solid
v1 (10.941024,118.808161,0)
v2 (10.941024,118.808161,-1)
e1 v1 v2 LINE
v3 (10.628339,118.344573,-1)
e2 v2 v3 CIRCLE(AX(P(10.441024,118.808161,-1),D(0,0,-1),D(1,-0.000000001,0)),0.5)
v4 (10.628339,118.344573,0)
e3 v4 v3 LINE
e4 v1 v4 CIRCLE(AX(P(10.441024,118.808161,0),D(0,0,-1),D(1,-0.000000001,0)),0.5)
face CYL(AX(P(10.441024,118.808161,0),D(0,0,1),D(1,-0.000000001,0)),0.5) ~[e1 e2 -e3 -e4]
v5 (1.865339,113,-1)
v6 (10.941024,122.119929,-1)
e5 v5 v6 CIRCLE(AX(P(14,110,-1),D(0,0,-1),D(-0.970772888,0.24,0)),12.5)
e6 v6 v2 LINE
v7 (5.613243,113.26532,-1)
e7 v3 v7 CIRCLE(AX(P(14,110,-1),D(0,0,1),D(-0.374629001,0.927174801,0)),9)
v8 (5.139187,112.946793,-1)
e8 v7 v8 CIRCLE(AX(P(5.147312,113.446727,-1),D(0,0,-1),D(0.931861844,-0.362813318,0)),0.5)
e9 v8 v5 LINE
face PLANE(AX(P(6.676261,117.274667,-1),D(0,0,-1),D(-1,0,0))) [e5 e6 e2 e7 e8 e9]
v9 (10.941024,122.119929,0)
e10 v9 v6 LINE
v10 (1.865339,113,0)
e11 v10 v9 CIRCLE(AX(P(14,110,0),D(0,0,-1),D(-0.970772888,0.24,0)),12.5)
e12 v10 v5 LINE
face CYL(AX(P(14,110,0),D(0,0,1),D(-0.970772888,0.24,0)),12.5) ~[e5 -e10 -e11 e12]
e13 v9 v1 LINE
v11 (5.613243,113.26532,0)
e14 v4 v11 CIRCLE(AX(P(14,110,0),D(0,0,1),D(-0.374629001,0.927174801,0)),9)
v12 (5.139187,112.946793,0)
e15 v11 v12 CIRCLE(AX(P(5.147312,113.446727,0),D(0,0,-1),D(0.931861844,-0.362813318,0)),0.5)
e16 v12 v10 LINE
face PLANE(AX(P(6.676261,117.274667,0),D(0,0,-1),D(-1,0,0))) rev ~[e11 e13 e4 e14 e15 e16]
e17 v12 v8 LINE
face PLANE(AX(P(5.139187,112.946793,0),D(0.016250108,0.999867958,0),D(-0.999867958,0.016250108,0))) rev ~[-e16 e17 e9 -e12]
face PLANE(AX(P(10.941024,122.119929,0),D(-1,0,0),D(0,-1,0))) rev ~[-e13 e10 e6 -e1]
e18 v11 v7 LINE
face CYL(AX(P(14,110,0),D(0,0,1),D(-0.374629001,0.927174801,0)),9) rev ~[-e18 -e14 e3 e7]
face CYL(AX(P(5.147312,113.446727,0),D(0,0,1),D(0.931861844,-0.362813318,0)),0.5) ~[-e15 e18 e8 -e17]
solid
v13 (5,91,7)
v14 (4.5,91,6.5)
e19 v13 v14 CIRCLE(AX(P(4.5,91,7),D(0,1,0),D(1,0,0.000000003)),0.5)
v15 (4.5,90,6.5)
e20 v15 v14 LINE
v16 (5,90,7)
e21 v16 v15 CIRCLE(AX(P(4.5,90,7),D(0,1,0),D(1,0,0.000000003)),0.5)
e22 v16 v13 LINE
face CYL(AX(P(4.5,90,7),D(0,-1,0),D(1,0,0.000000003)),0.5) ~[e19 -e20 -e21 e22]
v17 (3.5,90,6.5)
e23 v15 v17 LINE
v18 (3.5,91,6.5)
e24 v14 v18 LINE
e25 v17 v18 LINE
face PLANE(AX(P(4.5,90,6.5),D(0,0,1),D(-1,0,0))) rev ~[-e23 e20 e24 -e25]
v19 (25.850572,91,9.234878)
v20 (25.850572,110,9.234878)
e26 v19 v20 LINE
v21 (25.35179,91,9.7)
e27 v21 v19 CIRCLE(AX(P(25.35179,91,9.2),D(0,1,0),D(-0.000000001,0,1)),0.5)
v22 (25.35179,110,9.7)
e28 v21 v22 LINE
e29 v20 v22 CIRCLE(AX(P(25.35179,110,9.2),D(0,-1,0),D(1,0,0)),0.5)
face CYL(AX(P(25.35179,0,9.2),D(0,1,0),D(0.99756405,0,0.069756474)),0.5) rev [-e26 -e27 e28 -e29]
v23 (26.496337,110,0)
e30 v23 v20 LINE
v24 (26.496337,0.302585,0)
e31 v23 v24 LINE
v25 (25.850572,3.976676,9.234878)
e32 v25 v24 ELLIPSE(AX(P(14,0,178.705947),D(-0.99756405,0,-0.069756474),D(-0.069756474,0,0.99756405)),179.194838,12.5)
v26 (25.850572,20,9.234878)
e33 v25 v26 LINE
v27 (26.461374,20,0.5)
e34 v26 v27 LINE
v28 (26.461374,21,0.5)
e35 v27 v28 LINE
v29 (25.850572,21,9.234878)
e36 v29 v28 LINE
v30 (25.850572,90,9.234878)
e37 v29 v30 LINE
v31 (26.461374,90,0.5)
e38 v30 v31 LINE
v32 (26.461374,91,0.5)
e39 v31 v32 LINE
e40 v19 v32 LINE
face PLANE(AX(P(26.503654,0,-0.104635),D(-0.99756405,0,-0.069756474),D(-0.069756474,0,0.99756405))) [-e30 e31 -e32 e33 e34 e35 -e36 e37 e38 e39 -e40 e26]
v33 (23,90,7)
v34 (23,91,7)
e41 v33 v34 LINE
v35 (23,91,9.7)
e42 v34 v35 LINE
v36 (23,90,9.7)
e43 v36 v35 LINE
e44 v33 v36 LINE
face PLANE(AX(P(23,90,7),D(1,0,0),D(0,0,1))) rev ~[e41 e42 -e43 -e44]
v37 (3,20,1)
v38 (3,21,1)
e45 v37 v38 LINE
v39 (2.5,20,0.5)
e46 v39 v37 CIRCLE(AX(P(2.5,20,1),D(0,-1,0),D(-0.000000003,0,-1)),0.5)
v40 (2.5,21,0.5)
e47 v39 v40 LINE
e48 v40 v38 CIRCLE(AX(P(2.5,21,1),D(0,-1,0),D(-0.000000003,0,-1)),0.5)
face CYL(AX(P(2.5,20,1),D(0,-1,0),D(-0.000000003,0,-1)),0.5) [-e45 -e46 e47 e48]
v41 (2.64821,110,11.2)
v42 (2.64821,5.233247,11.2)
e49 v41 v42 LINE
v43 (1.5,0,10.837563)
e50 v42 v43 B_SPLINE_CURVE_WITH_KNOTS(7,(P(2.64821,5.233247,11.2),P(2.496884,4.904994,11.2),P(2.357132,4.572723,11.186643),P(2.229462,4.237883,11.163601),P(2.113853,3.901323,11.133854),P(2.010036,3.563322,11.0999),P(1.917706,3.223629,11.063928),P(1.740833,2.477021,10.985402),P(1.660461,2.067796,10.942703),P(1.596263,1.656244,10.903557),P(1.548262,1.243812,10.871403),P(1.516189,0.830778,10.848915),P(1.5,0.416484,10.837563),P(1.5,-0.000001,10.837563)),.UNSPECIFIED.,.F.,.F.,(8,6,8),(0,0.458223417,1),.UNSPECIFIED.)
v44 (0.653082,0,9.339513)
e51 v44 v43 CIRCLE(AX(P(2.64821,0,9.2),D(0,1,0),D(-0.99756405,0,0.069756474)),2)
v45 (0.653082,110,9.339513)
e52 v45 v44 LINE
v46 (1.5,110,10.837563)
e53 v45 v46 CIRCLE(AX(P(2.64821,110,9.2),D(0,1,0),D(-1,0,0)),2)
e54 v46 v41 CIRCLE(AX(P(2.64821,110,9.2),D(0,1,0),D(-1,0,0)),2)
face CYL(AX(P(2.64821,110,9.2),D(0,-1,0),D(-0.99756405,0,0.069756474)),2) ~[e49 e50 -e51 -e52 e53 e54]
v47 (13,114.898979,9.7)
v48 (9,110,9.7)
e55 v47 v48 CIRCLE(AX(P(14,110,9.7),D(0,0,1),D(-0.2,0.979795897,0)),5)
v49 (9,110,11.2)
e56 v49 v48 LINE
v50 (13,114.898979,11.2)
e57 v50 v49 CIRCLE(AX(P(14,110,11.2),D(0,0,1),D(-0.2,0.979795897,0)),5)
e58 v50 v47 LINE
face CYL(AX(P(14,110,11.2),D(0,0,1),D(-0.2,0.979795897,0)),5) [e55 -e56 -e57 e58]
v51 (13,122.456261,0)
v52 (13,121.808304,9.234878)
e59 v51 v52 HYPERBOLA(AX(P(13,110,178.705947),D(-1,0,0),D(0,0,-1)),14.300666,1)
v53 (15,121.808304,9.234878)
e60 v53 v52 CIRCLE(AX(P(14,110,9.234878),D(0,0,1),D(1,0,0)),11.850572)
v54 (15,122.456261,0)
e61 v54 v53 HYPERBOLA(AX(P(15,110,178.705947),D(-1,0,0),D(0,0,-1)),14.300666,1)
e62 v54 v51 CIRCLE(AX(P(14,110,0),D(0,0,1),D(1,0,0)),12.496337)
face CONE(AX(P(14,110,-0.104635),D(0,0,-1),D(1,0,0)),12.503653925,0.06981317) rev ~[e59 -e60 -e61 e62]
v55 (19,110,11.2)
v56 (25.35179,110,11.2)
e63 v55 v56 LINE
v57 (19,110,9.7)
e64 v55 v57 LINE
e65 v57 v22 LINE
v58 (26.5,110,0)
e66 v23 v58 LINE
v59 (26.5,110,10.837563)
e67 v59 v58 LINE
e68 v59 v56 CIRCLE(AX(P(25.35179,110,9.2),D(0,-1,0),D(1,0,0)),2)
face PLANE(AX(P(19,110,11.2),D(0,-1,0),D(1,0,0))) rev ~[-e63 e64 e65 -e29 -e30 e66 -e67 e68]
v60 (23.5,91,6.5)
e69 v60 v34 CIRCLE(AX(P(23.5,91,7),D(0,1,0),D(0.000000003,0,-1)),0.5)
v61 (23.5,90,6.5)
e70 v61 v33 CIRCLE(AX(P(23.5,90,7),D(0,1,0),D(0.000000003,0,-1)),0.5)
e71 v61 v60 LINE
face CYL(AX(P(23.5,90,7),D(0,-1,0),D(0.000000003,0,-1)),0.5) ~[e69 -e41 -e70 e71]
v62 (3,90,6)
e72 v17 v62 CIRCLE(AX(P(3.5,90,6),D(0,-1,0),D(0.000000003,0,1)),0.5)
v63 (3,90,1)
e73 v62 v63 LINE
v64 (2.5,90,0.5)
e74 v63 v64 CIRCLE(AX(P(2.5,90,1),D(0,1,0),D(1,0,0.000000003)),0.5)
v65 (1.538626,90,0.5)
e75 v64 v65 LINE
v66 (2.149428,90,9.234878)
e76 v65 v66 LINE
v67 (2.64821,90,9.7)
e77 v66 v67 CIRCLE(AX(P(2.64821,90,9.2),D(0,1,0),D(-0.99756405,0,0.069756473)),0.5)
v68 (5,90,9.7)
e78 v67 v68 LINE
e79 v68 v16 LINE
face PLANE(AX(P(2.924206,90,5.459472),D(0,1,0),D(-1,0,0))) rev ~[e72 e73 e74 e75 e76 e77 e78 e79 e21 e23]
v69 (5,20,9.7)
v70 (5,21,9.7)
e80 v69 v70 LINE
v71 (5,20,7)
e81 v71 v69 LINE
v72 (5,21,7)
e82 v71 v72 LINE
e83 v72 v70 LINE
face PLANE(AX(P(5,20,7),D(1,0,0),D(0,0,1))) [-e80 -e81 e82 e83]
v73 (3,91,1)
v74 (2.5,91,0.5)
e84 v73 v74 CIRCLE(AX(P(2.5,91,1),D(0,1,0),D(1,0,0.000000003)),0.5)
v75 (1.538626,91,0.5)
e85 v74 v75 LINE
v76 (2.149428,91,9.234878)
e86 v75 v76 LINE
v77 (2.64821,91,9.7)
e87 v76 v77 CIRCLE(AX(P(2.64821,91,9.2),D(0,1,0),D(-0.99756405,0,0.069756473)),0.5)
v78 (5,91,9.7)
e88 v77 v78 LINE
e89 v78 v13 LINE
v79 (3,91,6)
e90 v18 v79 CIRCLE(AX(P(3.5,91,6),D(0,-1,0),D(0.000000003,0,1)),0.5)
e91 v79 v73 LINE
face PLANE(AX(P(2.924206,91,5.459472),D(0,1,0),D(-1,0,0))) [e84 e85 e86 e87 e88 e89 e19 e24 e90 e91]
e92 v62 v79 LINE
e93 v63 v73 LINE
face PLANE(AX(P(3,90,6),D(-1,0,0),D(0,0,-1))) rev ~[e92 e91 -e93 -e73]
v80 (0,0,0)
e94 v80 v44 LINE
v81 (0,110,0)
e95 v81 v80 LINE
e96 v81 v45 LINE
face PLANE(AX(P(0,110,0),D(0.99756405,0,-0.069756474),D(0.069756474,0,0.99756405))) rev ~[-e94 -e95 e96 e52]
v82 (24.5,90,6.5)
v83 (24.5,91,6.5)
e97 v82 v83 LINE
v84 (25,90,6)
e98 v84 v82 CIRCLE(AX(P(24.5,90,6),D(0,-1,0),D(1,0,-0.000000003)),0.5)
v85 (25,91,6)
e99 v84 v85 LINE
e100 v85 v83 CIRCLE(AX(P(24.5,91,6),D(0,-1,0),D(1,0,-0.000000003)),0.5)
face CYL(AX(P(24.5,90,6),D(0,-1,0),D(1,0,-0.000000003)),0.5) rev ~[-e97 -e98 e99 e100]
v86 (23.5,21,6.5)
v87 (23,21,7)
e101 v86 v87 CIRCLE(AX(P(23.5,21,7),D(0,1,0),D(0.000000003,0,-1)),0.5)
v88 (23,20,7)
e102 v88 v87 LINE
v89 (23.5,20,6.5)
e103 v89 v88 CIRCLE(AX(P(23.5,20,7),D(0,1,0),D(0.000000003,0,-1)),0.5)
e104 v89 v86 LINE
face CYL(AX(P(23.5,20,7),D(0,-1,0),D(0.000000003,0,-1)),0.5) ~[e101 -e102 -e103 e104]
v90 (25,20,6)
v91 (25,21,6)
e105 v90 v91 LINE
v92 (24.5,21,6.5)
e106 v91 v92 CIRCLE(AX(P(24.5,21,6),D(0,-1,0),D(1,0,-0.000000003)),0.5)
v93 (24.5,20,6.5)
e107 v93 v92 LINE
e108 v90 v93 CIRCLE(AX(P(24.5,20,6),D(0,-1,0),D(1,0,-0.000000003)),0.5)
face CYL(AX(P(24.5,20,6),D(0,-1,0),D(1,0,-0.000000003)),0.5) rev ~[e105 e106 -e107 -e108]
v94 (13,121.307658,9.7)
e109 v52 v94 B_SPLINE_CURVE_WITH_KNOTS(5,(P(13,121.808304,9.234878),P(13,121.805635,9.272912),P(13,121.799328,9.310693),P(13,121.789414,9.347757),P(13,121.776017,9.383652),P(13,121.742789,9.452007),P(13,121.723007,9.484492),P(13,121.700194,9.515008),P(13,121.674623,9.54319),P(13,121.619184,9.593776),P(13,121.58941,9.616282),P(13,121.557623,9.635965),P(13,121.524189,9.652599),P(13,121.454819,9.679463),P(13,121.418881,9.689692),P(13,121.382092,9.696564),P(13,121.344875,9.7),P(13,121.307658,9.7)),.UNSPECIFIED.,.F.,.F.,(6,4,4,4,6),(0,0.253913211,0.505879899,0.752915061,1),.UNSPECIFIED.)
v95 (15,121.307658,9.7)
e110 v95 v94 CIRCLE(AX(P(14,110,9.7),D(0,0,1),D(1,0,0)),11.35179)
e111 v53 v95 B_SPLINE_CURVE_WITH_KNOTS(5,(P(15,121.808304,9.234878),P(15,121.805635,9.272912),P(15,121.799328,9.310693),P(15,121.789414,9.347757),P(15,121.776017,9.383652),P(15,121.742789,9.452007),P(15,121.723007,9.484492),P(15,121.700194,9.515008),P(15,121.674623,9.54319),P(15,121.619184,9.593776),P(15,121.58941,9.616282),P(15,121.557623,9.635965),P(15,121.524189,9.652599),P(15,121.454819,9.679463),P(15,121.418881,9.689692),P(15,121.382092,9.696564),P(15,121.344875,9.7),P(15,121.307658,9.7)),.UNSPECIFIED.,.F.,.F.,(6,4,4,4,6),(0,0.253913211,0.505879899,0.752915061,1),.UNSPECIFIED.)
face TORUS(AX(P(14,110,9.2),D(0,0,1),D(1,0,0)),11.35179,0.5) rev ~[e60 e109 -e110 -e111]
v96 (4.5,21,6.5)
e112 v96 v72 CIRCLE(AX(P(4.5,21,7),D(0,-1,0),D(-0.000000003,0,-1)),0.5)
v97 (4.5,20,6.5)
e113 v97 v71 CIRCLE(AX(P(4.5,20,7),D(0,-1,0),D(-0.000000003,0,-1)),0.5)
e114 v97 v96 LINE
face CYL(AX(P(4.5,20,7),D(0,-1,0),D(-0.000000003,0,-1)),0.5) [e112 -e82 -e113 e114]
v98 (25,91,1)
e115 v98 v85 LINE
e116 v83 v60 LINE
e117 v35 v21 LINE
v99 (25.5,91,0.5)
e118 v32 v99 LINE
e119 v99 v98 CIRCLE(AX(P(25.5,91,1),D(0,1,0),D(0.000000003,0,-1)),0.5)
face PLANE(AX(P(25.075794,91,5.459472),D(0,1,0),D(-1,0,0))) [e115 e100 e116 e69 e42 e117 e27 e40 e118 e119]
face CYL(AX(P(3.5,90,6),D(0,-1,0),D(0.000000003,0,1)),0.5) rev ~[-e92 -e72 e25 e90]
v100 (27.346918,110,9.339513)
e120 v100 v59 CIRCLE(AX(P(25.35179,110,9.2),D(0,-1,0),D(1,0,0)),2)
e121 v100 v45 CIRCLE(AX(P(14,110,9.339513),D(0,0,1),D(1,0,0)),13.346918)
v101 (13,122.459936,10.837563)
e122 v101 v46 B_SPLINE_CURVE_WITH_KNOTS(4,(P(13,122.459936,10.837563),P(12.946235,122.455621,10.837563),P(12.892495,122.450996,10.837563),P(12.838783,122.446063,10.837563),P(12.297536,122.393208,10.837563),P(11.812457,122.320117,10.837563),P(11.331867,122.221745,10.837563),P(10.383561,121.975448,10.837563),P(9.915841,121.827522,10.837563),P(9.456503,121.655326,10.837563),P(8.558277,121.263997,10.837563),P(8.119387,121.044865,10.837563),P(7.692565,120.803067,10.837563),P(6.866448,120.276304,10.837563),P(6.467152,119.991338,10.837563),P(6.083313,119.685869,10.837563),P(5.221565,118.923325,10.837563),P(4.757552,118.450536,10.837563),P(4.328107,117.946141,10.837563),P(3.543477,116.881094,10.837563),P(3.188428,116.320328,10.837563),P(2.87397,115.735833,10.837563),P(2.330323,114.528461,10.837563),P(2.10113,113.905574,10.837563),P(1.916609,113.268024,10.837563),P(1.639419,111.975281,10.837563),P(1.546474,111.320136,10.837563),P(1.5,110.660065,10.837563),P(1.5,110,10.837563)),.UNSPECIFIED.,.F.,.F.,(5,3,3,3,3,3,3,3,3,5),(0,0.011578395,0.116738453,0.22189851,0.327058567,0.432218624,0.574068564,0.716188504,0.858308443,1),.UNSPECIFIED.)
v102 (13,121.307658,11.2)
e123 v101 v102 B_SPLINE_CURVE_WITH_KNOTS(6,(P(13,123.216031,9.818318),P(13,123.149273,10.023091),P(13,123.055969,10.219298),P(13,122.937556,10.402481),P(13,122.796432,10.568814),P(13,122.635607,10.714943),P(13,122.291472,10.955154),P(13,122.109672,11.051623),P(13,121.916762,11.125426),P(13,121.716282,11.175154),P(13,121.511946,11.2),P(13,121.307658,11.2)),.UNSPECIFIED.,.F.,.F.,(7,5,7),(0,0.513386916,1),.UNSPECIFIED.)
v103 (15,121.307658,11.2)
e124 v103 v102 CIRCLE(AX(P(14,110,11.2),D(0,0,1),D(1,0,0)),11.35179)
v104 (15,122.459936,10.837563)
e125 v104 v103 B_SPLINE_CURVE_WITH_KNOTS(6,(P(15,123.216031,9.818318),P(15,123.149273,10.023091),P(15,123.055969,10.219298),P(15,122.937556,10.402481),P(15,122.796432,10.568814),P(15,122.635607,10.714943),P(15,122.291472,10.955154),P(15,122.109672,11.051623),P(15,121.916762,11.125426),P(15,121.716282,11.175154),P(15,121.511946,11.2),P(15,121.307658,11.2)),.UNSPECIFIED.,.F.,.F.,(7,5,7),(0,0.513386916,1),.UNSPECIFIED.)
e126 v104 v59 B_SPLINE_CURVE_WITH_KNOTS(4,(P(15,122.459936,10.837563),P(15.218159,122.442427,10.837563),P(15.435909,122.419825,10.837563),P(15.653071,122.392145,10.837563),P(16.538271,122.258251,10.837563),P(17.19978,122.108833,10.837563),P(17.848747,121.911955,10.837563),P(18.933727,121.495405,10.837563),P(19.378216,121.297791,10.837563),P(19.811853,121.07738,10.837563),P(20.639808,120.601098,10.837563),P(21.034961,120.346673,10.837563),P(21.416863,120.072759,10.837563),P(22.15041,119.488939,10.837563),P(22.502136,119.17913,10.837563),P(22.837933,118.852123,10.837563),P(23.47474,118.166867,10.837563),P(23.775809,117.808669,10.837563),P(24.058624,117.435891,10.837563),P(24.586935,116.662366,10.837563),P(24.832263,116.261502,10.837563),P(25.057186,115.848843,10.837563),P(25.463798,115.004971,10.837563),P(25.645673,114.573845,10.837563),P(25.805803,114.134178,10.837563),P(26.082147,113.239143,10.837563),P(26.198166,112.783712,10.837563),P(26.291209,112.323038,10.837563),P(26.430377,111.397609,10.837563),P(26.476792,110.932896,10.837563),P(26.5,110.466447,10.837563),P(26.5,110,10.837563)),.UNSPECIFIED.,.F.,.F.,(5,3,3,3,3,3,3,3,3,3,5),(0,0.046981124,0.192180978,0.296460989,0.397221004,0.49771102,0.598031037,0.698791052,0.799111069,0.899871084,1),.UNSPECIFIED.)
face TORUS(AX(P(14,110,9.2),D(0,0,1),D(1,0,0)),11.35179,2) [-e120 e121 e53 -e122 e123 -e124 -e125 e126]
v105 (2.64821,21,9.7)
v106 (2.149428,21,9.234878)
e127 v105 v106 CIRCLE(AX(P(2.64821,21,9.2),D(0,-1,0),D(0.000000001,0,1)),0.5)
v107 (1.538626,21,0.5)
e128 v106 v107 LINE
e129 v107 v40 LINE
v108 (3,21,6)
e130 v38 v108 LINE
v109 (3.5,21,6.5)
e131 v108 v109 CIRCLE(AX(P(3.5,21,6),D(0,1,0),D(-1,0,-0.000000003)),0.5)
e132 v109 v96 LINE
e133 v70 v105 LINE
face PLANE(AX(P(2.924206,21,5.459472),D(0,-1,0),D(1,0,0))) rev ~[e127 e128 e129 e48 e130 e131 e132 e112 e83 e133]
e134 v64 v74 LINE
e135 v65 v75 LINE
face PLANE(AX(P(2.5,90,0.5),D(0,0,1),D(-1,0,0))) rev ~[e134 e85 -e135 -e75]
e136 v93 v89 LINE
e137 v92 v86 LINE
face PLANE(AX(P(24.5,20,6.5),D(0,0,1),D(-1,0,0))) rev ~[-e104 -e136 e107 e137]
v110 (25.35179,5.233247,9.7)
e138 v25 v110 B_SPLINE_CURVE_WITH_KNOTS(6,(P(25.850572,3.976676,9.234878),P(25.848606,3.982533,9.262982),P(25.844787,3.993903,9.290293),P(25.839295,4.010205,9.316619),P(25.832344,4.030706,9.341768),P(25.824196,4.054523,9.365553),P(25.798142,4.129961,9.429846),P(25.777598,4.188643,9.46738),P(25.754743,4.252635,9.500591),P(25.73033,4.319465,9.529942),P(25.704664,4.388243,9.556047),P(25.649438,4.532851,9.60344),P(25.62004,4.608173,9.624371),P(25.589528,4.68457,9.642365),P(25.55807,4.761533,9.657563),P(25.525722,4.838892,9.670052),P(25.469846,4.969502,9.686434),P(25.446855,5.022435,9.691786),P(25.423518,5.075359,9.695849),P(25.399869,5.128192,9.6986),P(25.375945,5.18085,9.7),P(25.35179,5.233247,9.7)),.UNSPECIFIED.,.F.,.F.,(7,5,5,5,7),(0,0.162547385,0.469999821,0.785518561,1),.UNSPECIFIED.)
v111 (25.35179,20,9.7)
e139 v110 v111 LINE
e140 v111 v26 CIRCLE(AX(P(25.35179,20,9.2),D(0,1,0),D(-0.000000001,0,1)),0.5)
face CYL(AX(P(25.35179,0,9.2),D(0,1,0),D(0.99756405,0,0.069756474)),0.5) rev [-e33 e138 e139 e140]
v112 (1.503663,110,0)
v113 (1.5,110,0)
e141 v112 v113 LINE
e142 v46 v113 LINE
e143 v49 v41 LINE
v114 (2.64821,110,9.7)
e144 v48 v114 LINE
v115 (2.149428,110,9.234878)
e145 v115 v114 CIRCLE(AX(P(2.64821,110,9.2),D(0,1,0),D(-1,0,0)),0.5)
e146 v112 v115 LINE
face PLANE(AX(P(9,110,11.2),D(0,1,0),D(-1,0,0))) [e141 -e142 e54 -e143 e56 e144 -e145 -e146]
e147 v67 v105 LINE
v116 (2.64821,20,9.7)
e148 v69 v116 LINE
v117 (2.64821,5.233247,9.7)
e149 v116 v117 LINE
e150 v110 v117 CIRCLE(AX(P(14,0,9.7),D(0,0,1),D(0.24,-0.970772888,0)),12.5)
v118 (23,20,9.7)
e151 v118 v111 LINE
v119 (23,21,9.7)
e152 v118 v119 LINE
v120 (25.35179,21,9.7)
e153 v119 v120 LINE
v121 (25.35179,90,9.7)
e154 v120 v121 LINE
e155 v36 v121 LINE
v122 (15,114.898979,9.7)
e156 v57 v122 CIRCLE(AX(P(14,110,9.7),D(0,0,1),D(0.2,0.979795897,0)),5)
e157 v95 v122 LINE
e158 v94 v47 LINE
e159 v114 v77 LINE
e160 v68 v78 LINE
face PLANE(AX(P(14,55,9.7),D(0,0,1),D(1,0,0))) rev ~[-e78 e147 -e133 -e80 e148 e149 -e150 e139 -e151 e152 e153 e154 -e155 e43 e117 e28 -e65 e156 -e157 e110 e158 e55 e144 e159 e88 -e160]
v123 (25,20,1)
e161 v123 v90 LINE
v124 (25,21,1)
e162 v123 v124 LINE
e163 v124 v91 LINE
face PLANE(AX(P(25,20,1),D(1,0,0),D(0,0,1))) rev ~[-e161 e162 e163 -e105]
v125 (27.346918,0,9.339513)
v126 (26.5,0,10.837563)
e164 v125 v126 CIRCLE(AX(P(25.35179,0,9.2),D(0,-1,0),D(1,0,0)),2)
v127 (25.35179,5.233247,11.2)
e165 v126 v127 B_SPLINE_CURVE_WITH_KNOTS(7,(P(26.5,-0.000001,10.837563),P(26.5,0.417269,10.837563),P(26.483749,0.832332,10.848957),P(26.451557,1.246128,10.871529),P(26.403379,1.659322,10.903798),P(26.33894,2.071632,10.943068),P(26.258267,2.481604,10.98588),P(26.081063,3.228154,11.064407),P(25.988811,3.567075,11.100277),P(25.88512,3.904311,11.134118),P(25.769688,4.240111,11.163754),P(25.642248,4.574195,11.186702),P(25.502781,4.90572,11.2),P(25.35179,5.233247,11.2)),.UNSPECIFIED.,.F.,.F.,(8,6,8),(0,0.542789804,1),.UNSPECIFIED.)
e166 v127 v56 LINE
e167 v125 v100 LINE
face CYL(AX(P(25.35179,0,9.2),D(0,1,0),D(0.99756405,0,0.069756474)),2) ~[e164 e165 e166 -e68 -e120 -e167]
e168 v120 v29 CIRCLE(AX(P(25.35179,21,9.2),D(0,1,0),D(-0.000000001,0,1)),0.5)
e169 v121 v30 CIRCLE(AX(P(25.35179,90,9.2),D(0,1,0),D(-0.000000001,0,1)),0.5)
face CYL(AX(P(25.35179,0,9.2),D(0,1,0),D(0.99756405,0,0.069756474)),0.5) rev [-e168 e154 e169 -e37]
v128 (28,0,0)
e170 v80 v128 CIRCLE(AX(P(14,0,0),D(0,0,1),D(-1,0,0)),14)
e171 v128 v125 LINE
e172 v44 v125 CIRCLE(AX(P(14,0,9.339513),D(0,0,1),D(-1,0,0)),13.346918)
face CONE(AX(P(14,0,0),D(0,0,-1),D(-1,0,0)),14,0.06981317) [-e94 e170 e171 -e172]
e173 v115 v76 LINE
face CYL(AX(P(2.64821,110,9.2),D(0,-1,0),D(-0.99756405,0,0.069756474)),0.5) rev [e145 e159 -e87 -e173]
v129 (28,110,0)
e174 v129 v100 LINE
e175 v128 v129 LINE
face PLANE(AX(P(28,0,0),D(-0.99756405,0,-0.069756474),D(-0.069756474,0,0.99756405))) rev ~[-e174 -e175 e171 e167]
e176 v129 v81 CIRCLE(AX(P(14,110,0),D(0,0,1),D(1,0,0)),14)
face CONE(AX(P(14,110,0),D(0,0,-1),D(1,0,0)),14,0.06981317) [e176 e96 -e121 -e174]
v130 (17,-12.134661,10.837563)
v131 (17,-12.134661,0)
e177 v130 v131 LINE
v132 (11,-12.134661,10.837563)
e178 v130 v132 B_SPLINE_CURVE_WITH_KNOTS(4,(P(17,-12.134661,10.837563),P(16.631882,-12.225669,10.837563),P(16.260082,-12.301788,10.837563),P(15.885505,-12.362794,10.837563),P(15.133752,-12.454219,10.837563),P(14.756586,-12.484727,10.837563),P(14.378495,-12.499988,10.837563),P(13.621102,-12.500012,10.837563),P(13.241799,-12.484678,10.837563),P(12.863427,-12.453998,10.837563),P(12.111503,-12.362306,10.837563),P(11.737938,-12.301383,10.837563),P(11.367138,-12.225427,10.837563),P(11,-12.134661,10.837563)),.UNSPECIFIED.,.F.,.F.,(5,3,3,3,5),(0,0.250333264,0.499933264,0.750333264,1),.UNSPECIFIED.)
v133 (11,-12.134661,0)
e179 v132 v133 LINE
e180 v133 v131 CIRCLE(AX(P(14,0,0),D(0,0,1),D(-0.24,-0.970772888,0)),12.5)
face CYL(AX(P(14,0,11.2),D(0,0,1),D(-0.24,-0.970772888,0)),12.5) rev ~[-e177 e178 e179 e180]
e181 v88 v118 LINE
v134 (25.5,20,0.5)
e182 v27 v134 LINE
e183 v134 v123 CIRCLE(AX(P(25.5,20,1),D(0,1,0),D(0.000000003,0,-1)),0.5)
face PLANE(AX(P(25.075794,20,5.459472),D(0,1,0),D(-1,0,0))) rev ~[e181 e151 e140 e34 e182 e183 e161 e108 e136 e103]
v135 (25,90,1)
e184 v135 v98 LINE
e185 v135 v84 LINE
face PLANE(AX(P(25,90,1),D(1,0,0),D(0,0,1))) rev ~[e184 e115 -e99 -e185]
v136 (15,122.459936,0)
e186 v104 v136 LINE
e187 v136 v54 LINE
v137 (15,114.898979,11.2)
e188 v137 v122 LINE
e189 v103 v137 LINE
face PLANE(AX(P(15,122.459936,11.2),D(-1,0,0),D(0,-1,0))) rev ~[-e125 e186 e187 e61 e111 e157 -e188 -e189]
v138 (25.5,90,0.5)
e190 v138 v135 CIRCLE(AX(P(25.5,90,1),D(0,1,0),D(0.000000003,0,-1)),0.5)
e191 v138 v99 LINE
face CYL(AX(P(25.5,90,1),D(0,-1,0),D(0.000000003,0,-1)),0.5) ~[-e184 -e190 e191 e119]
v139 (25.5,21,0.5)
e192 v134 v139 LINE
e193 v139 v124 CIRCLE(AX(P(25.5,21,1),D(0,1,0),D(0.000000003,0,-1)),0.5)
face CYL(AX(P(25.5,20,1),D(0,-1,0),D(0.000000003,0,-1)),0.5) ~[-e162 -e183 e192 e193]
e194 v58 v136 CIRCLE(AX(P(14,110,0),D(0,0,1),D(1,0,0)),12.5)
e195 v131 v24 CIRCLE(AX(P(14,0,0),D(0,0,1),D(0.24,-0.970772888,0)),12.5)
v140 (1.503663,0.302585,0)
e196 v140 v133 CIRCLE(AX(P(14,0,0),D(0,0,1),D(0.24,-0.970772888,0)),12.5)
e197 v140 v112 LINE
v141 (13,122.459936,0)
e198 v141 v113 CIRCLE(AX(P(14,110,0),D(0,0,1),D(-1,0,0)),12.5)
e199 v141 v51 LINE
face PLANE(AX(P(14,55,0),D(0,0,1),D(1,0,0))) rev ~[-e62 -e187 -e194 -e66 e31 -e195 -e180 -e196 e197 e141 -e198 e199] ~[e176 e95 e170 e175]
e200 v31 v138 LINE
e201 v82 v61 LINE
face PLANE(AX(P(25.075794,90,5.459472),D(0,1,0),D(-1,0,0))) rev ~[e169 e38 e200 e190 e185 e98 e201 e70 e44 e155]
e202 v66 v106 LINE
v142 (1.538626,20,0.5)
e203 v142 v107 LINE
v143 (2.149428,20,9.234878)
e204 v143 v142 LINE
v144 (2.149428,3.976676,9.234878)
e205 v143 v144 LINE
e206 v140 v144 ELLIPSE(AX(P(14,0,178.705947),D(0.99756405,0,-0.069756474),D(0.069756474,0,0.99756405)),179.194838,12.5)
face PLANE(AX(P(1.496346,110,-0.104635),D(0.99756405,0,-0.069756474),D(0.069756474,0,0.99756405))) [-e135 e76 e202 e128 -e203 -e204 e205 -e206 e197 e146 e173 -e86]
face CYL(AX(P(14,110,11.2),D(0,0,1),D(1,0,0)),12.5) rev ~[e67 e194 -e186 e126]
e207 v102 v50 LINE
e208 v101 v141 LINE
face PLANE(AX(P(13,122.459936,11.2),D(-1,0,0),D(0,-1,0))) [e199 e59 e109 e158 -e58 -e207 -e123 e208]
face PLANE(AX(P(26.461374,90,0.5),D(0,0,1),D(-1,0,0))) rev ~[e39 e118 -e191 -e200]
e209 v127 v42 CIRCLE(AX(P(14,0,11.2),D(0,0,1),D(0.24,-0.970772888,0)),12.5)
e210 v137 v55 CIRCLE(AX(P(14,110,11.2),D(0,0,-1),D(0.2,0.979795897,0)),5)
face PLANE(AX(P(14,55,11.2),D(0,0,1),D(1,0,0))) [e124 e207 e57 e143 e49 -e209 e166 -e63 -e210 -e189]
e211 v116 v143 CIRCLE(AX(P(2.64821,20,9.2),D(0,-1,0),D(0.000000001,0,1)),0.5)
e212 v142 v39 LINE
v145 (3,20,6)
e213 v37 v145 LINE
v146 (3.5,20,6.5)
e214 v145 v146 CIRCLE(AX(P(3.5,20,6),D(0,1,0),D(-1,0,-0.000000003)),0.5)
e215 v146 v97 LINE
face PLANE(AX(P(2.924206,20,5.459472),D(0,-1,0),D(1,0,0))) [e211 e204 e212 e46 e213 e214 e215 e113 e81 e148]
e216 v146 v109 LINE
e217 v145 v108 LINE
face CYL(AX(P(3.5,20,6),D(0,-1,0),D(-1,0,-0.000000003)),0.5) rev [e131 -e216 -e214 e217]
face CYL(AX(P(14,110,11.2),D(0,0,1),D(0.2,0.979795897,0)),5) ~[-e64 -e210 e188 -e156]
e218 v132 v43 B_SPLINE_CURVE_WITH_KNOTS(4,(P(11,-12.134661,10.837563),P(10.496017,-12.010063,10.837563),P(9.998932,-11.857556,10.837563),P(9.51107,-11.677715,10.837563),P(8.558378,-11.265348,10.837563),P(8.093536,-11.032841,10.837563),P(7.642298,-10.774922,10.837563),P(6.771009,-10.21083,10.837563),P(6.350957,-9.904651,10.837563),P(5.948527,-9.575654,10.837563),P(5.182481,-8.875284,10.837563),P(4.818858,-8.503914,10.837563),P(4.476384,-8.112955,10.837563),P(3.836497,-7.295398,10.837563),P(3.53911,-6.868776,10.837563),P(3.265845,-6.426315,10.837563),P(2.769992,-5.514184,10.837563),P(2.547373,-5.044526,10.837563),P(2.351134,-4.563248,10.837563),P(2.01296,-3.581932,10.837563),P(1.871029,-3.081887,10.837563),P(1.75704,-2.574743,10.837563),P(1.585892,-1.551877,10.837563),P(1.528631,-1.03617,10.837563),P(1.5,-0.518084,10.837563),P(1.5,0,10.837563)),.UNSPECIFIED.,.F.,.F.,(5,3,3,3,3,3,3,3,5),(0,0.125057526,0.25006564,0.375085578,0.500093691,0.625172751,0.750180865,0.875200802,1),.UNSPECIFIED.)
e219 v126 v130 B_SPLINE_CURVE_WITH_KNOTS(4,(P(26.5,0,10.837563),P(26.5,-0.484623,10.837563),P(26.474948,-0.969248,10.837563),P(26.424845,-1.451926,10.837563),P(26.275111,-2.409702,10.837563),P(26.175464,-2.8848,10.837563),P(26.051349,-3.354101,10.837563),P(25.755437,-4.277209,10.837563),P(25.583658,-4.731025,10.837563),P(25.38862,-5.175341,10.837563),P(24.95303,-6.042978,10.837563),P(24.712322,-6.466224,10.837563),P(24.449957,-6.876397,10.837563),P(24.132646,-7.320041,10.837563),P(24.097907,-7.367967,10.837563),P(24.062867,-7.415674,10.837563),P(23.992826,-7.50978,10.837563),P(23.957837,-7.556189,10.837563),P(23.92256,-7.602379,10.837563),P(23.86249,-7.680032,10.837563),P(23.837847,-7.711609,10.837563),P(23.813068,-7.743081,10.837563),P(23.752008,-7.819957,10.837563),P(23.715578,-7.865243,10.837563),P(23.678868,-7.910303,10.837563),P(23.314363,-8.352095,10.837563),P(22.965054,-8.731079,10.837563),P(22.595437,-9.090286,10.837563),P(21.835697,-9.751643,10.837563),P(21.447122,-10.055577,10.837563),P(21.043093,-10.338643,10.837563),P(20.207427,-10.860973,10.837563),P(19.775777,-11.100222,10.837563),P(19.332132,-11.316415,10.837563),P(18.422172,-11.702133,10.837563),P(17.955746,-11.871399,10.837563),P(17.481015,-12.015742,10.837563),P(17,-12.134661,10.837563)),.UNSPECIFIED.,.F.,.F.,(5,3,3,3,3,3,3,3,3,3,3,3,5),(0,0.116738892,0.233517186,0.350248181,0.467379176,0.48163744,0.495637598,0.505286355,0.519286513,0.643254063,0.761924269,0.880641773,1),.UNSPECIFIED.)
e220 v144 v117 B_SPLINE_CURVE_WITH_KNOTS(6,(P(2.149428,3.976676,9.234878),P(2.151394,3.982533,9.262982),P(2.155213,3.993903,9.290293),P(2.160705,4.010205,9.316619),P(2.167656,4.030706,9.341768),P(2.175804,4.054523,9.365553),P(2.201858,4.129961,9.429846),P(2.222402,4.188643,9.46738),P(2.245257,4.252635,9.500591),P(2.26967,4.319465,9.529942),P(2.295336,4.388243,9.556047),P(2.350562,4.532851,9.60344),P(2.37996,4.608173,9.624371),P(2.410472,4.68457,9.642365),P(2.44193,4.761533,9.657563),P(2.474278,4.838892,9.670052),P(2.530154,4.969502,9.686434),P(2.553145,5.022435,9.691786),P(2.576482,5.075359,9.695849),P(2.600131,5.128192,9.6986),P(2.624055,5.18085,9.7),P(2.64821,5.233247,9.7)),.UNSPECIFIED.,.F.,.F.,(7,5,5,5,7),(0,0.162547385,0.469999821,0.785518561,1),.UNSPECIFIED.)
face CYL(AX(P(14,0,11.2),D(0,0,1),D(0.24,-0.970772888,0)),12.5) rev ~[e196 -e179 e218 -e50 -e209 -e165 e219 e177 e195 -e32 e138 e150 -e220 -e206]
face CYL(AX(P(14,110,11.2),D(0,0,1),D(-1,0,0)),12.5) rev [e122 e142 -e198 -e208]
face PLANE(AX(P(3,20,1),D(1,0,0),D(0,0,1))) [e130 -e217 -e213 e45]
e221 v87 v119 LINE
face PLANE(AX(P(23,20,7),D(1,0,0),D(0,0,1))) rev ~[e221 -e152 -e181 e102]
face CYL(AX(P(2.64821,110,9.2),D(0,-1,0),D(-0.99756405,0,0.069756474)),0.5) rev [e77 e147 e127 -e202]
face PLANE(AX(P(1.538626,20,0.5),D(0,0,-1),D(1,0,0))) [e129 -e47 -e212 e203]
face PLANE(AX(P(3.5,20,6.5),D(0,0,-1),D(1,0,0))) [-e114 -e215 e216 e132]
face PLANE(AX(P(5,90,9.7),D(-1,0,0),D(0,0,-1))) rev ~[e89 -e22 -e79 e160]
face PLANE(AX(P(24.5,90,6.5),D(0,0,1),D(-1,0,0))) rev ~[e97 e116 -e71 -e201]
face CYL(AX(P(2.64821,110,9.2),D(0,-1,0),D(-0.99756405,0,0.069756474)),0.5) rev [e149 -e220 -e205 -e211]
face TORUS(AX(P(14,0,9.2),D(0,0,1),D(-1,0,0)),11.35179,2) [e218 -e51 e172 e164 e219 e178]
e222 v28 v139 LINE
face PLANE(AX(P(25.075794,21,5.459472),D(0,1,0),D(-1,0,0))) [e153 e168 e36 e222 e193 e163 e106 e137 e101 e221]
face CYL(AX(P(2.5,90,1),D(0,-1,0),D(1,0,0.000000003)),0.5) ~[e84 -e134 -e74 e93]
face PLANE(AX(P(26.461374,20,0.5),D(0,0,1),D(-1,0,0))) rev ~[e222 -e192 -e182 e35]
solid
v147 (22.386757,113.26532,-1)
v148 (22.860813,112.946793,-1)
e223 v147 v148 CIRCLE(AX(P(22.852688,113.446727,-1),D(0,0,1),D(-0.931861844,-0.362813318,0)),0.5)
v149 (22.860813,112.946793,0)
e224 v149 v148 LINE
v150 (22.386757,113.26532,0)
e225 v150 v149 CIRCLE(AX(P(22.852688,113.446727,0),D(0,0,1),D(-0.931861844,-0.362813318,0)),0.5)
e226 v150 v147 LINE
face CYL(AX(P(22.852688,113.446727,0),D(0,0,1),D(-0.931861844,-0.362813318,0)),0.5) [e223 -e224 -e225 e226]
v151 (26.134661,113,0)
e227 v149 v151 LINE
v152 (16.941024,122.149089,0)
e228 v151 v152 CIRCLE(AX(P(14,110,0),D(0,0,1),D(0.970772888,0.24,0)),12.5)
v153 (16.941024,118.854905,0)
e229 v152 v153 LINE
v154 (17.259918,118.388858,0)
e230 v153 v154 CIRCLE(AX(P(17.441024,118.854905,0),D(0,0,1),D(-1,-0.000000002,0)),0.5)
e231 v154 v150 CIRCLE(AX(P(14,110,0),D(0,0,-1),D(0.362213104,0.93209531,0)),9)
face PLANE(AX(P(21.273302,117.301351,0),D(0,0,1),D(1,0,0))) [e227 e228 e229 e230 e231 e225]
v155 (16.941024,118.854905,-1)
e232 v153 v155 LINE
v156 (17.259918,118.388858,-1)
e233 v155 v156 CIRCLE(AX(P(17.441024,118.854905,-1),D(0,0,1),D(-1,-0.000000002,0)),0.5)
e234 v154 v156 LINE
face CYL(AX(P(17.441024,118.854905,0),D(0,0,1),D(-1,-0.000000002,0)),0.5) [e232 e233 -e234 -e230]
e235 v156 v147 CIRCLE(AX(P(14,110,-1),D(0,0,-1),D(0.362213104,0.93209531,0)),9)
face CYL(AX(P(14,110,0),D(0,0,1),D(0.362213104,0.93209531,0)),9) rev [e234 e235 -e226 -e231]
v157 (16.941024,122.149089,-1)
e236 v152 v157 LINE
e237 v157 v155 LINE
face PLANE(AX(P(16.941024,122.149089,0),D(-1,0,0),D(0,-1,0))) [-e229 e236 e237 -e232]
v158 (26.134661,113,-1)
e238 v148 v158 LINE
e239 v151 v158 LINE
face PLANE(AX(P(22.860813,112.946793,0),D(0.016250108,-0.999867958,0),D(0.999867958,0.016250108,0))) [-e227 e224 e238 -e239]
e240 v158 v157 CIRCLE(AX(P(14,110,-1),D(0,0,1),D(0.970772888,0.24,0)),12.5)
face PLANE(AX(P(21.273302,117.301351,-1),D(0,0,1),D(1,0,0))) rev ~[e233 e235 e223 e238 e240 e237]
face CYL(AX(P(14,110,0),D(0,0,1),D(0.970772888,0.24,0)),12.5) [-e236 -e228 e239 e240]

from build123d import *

# Parameters (mm, degrees)
EXTRUSION1_DEPTH        = 11.2
EXTRUSION1_TAPER        = 4
CONG_1_R                = 2
COQUE1_T                = -1.5
ENL_V_MAT_EXTRU_1_DEPTH = 128.614419248
EXTRUSION2_DEPTH        = 1
EXTRUSION3_DEPTH        = 1
EXTRUSION4_DEPTH        = 1
EXTRUSION4_2_DEPTH      = 1


with BuildPart() as part:
    # Esquisse1 → Extrusion1 (new body)
    with BuildSketch(Plane.XY):
        with BuildLine():
            ThreePointArc((0, 0), (14, -14), (28, 0))
            Line((28, 0), (28, 110))
            ThreePointArc((28, 110), (14, 124), (0, 110))
            Line((0, 110), (0, 0))
        make_face()
    extrude(amount=EXTRUSION1_DEPTH, taper=EXTRUSION1_TAPER)

    # Congé1
    cong_1_edges = [part.edges().sort_by_distance(p)[0] for p in [
        (14, 123.216819706, 11.2),
        (0.783180294, 55, 11.2),
        (14, -13.216819706, 11.2),
        (27.216819706, 55, 11.2),
    ]]
    fillet(cong_1_edges, radius=CONG_1_R)

    # Coque1
    coque1_openings = [part.faces().sort_by_distance(p)[0] for p in [
        (14, 55, 0),
    ]]
    offset(amount=COQUE1_T, openings=coque1_openings, kind=Kind.INTERSECTION)

    # Esquisse2 → Enlèv. mat.-Extru.1 (cut, through all)
    with BuildSketch(Plane.XY.offset(11.2)):
        with BuildLine():
            Line((13, 122.459935794), (13, 114.898979486))
            ThreePointArc((13, 114.898979486), (10.127016654, 113.16227766), (9, 110))
            Line((9, 110), (1.5, 110))
            ThreePointArc((1.5, 110), (4.814413465, 118.477912479), (13, 122.459935794))
        make_face()
        with BuildLine():
            Line((15, 122.459935794), (15, 114.898979486))
            ThreePointArc((15, 114.898979486), (17.872983346, 113.16227766), (19, 110))
            Line((19, 110), (26.5, 110))
            ThreePointArc((26.5, 110), (23.185586535, 118.477912479), (15, 122.459935794))
        make_face()
        with BuildLine():
            ThreePointArc((17, -12.1346611), (14, 12.5), (11, -12.1346611))
            ThreePointArc((11, -12.1346611), (14, -12.5), (17, -12.1346611))
        make_face()
    extrude(amount=-ENL_V_MAT_EXTRU_1_DEPTH, mode=Mode.SUBTRACT)

    # Esquisse4 → Extrusion2 (add)
    with BuildSketch(Plane(origin=(0, 20, 0), x_dir=(-1, 0, 0), z_dir=(0, 1, 0))):
        with BuildLine():
            Line((-23, 9.7), (-25.351789534, 9.7))
            ThreePointArc((-25.351789534, 9.7), (-25.692788714, 9.565676851), (-25.850571559, 9.234878237))
            Line((-25.850571559, 9.234878237), (-26.461373747, 0.5))
            Line((-26.461373747, 0.5), (-25.5, 0.5))
            ThreePointArc((-25.5, 0.5), (-25.146446609, 0.646446609), (-25, 1))
            Line((-25, 1), (-25, 6))
            ThreePointArc((-25, 6), (-24.853553391, 6.353553391), (-24.5, 6.5))
            Line((-24.5, 6.5), (-23.5, 6.5))
            ThreePointArc((-23.5, 6.5), (-23.146446609, 6.646446609), (-23, 7))
            Line((-23, 7), (-23, 9.7))
        make_face()
        with BuildLine():
            Line((-2.149428441, 9.234878237), (-1.538626253, 0.5))
            Line((-1.538626253, 0.5), (-2.5, 0.5))
            ThreePointArc((-2.5, 0.5), (-2.853553391, 0.646446609), (-3, 1))
            Line((-3, 1), (-3, 6))
            ThreePointArc((-3, 6), (-3.146446609, 6.353553391), (-3.5, 6.5))
            Line((-3.5, 6.5), (-4.5, 6.5))
            ThreePointArc((-4.5, 6.5), (-4.853553391, 6.646446609), (-5, 7))
            Line((-5, 7), (-5, 9.7))
            Line((-5, 9.7), (-2.648210466, 9.7))
            ThreePointArc((-2.648210466, 9.7), (-2.307211286, 9.565676851), (-2.149428441, 9.234878237))
        make_face()
    extrude(amount=EXTRUSION2_DEPTH)

    # Esquisse5 → Extrusion3 (add)
    with BuildSketch(Plane(origin=(0, 90, 0), x_dir=(-1, 0, 0), z_dir=(0, 1, 0))):
        with BuildLine():
            Line((-25.850571559, 9.234878237), (-26.461373747, 0.5))
            Line((-26.461373747, 0.5), (-25.5, 0.5))
            ThreePointArc((-25.5, 0.5), (-25.146446609, 0.646446609), (-25, 1))
            Line((-25, 1), (-25, 6))
            ThreePointArc((-25, 6), (-24.853553391, 6.353553391), (-24.5, 6.5))
            Line((-24.5, 6.5), (-23.5, 6.5))
            ThreePointArc((-23.5, 6.5), (-23.146446609, 6.646446609), (-23, 7))
            Line((-23, 7), (-23, 9.7))
            Line((-23, 9.7), (-25.351789534, 9.7))
            ThreePointArc((-25.351789534, 9.7), (-25.692788714, 9.565676851), (-25.850571559, 9.234878237))
        make_face()
        with BuildLine():
            Line((-2.648210466, 9.7), (-5, 9.7))
            Line((-5, 9.7), (-5, 7))
            ThreePointArc((-5, 7), (-4.853553391, 6.646446609), (-4.5, 6.5))
            Line((-4.5, 6.5), (-3.5, 6.5))
            ThreePointArc((-3.5, 6.5), (-3.146446609, 6.353553391), (-3, 6))
            Line((-3, 6), (-3, 1))
            ThreePointArc((-3, 1), (-2.853553391, 0.646446609), (-2.5, 0.5))
            Line((-2.5, 0.5), (-1.538626253, 0.5))
            Line((-1.538626253, 0.5), (-2.149428441, 9.234878237))
            ThreePointArc((-2.149428441, 9.234878237), (-2.307211286, 9.565676851), (-2.648210466, 9.7))
        make_face()
    extrude(amount=EXTRUSION3_DEPTH)


with BuildPart() as body_2:
    # Esquisse6 → Extrusion4 (new body)
    with BuildSketch(Plane(origin=(0, 0, 0), x_dir=(-1, 0, 0), z_dir=(0, 0, -1))):
        with BuildLine():
            Line((-16.94102449, 122.14908947), (-16.94102449, 118.854905446))
            ThreePointArc((-16.94102449, 118.854905446), (-17.028378591, 118.572552189), (-17.259917938, 118.388857791))
            ThreePointArc((-17.259917938, 118.388857791), (-20.361911425, 116.366009977), (-22.386756582, 113.265319899))
            ThreePointArc((-22.386756582, 113.265319899), (-22.573830073, 113.031710254), (-22.860812557, 112.946792581))
            Line((-22.860812557, 112.946792581), (-26.1346611, 113))
            ThreePointArc((-26.1346611, 113), (-22.81734277, 118.860274627), (-16.94102449, 122.14908947))
        make_face()
    extrude(amount=EXTRUSION4_DEPTH)


with BuildPart() as body_3:
    # Esquisse6 → Extrusion4 2 (new body)
    with BuildSketch(Plane(origin=(0, 0, 0), x_dir=(-1, 0, 0), z_dir=(0, 0, -1))):
        with BuildLine():
            Line((-10.94102449, 122.119928582), (-10.94102449, 118.808160609))
            ThreePointArc((-10.94102449, 118.808160609), (-10.855546655, 118.528569167), (-10.628338991, 118.344573209))
            ThreePointArc((-10.628338991, 118.344573209), (-7.595720212, 116.3233852), (-5.613243418, 113.265319899))
            ThreePointArc((-5.613243418, 113.265319899), (-5.426169927, 113.031710254), (-5.139187443, 112.946792581))
            Line((-5.139187443, 112.946792581), (-1.8653389, 113))
            ThreePointArc((-1.8653389, 113), (-5.139699628, 118.8173169), (-10.94102449, 122.119928582))
        make_face()
    extrude(amount=EXTRUSION4_2_DEPTH)


solid = Compound([part.part, body_2.part, body_3.part])
